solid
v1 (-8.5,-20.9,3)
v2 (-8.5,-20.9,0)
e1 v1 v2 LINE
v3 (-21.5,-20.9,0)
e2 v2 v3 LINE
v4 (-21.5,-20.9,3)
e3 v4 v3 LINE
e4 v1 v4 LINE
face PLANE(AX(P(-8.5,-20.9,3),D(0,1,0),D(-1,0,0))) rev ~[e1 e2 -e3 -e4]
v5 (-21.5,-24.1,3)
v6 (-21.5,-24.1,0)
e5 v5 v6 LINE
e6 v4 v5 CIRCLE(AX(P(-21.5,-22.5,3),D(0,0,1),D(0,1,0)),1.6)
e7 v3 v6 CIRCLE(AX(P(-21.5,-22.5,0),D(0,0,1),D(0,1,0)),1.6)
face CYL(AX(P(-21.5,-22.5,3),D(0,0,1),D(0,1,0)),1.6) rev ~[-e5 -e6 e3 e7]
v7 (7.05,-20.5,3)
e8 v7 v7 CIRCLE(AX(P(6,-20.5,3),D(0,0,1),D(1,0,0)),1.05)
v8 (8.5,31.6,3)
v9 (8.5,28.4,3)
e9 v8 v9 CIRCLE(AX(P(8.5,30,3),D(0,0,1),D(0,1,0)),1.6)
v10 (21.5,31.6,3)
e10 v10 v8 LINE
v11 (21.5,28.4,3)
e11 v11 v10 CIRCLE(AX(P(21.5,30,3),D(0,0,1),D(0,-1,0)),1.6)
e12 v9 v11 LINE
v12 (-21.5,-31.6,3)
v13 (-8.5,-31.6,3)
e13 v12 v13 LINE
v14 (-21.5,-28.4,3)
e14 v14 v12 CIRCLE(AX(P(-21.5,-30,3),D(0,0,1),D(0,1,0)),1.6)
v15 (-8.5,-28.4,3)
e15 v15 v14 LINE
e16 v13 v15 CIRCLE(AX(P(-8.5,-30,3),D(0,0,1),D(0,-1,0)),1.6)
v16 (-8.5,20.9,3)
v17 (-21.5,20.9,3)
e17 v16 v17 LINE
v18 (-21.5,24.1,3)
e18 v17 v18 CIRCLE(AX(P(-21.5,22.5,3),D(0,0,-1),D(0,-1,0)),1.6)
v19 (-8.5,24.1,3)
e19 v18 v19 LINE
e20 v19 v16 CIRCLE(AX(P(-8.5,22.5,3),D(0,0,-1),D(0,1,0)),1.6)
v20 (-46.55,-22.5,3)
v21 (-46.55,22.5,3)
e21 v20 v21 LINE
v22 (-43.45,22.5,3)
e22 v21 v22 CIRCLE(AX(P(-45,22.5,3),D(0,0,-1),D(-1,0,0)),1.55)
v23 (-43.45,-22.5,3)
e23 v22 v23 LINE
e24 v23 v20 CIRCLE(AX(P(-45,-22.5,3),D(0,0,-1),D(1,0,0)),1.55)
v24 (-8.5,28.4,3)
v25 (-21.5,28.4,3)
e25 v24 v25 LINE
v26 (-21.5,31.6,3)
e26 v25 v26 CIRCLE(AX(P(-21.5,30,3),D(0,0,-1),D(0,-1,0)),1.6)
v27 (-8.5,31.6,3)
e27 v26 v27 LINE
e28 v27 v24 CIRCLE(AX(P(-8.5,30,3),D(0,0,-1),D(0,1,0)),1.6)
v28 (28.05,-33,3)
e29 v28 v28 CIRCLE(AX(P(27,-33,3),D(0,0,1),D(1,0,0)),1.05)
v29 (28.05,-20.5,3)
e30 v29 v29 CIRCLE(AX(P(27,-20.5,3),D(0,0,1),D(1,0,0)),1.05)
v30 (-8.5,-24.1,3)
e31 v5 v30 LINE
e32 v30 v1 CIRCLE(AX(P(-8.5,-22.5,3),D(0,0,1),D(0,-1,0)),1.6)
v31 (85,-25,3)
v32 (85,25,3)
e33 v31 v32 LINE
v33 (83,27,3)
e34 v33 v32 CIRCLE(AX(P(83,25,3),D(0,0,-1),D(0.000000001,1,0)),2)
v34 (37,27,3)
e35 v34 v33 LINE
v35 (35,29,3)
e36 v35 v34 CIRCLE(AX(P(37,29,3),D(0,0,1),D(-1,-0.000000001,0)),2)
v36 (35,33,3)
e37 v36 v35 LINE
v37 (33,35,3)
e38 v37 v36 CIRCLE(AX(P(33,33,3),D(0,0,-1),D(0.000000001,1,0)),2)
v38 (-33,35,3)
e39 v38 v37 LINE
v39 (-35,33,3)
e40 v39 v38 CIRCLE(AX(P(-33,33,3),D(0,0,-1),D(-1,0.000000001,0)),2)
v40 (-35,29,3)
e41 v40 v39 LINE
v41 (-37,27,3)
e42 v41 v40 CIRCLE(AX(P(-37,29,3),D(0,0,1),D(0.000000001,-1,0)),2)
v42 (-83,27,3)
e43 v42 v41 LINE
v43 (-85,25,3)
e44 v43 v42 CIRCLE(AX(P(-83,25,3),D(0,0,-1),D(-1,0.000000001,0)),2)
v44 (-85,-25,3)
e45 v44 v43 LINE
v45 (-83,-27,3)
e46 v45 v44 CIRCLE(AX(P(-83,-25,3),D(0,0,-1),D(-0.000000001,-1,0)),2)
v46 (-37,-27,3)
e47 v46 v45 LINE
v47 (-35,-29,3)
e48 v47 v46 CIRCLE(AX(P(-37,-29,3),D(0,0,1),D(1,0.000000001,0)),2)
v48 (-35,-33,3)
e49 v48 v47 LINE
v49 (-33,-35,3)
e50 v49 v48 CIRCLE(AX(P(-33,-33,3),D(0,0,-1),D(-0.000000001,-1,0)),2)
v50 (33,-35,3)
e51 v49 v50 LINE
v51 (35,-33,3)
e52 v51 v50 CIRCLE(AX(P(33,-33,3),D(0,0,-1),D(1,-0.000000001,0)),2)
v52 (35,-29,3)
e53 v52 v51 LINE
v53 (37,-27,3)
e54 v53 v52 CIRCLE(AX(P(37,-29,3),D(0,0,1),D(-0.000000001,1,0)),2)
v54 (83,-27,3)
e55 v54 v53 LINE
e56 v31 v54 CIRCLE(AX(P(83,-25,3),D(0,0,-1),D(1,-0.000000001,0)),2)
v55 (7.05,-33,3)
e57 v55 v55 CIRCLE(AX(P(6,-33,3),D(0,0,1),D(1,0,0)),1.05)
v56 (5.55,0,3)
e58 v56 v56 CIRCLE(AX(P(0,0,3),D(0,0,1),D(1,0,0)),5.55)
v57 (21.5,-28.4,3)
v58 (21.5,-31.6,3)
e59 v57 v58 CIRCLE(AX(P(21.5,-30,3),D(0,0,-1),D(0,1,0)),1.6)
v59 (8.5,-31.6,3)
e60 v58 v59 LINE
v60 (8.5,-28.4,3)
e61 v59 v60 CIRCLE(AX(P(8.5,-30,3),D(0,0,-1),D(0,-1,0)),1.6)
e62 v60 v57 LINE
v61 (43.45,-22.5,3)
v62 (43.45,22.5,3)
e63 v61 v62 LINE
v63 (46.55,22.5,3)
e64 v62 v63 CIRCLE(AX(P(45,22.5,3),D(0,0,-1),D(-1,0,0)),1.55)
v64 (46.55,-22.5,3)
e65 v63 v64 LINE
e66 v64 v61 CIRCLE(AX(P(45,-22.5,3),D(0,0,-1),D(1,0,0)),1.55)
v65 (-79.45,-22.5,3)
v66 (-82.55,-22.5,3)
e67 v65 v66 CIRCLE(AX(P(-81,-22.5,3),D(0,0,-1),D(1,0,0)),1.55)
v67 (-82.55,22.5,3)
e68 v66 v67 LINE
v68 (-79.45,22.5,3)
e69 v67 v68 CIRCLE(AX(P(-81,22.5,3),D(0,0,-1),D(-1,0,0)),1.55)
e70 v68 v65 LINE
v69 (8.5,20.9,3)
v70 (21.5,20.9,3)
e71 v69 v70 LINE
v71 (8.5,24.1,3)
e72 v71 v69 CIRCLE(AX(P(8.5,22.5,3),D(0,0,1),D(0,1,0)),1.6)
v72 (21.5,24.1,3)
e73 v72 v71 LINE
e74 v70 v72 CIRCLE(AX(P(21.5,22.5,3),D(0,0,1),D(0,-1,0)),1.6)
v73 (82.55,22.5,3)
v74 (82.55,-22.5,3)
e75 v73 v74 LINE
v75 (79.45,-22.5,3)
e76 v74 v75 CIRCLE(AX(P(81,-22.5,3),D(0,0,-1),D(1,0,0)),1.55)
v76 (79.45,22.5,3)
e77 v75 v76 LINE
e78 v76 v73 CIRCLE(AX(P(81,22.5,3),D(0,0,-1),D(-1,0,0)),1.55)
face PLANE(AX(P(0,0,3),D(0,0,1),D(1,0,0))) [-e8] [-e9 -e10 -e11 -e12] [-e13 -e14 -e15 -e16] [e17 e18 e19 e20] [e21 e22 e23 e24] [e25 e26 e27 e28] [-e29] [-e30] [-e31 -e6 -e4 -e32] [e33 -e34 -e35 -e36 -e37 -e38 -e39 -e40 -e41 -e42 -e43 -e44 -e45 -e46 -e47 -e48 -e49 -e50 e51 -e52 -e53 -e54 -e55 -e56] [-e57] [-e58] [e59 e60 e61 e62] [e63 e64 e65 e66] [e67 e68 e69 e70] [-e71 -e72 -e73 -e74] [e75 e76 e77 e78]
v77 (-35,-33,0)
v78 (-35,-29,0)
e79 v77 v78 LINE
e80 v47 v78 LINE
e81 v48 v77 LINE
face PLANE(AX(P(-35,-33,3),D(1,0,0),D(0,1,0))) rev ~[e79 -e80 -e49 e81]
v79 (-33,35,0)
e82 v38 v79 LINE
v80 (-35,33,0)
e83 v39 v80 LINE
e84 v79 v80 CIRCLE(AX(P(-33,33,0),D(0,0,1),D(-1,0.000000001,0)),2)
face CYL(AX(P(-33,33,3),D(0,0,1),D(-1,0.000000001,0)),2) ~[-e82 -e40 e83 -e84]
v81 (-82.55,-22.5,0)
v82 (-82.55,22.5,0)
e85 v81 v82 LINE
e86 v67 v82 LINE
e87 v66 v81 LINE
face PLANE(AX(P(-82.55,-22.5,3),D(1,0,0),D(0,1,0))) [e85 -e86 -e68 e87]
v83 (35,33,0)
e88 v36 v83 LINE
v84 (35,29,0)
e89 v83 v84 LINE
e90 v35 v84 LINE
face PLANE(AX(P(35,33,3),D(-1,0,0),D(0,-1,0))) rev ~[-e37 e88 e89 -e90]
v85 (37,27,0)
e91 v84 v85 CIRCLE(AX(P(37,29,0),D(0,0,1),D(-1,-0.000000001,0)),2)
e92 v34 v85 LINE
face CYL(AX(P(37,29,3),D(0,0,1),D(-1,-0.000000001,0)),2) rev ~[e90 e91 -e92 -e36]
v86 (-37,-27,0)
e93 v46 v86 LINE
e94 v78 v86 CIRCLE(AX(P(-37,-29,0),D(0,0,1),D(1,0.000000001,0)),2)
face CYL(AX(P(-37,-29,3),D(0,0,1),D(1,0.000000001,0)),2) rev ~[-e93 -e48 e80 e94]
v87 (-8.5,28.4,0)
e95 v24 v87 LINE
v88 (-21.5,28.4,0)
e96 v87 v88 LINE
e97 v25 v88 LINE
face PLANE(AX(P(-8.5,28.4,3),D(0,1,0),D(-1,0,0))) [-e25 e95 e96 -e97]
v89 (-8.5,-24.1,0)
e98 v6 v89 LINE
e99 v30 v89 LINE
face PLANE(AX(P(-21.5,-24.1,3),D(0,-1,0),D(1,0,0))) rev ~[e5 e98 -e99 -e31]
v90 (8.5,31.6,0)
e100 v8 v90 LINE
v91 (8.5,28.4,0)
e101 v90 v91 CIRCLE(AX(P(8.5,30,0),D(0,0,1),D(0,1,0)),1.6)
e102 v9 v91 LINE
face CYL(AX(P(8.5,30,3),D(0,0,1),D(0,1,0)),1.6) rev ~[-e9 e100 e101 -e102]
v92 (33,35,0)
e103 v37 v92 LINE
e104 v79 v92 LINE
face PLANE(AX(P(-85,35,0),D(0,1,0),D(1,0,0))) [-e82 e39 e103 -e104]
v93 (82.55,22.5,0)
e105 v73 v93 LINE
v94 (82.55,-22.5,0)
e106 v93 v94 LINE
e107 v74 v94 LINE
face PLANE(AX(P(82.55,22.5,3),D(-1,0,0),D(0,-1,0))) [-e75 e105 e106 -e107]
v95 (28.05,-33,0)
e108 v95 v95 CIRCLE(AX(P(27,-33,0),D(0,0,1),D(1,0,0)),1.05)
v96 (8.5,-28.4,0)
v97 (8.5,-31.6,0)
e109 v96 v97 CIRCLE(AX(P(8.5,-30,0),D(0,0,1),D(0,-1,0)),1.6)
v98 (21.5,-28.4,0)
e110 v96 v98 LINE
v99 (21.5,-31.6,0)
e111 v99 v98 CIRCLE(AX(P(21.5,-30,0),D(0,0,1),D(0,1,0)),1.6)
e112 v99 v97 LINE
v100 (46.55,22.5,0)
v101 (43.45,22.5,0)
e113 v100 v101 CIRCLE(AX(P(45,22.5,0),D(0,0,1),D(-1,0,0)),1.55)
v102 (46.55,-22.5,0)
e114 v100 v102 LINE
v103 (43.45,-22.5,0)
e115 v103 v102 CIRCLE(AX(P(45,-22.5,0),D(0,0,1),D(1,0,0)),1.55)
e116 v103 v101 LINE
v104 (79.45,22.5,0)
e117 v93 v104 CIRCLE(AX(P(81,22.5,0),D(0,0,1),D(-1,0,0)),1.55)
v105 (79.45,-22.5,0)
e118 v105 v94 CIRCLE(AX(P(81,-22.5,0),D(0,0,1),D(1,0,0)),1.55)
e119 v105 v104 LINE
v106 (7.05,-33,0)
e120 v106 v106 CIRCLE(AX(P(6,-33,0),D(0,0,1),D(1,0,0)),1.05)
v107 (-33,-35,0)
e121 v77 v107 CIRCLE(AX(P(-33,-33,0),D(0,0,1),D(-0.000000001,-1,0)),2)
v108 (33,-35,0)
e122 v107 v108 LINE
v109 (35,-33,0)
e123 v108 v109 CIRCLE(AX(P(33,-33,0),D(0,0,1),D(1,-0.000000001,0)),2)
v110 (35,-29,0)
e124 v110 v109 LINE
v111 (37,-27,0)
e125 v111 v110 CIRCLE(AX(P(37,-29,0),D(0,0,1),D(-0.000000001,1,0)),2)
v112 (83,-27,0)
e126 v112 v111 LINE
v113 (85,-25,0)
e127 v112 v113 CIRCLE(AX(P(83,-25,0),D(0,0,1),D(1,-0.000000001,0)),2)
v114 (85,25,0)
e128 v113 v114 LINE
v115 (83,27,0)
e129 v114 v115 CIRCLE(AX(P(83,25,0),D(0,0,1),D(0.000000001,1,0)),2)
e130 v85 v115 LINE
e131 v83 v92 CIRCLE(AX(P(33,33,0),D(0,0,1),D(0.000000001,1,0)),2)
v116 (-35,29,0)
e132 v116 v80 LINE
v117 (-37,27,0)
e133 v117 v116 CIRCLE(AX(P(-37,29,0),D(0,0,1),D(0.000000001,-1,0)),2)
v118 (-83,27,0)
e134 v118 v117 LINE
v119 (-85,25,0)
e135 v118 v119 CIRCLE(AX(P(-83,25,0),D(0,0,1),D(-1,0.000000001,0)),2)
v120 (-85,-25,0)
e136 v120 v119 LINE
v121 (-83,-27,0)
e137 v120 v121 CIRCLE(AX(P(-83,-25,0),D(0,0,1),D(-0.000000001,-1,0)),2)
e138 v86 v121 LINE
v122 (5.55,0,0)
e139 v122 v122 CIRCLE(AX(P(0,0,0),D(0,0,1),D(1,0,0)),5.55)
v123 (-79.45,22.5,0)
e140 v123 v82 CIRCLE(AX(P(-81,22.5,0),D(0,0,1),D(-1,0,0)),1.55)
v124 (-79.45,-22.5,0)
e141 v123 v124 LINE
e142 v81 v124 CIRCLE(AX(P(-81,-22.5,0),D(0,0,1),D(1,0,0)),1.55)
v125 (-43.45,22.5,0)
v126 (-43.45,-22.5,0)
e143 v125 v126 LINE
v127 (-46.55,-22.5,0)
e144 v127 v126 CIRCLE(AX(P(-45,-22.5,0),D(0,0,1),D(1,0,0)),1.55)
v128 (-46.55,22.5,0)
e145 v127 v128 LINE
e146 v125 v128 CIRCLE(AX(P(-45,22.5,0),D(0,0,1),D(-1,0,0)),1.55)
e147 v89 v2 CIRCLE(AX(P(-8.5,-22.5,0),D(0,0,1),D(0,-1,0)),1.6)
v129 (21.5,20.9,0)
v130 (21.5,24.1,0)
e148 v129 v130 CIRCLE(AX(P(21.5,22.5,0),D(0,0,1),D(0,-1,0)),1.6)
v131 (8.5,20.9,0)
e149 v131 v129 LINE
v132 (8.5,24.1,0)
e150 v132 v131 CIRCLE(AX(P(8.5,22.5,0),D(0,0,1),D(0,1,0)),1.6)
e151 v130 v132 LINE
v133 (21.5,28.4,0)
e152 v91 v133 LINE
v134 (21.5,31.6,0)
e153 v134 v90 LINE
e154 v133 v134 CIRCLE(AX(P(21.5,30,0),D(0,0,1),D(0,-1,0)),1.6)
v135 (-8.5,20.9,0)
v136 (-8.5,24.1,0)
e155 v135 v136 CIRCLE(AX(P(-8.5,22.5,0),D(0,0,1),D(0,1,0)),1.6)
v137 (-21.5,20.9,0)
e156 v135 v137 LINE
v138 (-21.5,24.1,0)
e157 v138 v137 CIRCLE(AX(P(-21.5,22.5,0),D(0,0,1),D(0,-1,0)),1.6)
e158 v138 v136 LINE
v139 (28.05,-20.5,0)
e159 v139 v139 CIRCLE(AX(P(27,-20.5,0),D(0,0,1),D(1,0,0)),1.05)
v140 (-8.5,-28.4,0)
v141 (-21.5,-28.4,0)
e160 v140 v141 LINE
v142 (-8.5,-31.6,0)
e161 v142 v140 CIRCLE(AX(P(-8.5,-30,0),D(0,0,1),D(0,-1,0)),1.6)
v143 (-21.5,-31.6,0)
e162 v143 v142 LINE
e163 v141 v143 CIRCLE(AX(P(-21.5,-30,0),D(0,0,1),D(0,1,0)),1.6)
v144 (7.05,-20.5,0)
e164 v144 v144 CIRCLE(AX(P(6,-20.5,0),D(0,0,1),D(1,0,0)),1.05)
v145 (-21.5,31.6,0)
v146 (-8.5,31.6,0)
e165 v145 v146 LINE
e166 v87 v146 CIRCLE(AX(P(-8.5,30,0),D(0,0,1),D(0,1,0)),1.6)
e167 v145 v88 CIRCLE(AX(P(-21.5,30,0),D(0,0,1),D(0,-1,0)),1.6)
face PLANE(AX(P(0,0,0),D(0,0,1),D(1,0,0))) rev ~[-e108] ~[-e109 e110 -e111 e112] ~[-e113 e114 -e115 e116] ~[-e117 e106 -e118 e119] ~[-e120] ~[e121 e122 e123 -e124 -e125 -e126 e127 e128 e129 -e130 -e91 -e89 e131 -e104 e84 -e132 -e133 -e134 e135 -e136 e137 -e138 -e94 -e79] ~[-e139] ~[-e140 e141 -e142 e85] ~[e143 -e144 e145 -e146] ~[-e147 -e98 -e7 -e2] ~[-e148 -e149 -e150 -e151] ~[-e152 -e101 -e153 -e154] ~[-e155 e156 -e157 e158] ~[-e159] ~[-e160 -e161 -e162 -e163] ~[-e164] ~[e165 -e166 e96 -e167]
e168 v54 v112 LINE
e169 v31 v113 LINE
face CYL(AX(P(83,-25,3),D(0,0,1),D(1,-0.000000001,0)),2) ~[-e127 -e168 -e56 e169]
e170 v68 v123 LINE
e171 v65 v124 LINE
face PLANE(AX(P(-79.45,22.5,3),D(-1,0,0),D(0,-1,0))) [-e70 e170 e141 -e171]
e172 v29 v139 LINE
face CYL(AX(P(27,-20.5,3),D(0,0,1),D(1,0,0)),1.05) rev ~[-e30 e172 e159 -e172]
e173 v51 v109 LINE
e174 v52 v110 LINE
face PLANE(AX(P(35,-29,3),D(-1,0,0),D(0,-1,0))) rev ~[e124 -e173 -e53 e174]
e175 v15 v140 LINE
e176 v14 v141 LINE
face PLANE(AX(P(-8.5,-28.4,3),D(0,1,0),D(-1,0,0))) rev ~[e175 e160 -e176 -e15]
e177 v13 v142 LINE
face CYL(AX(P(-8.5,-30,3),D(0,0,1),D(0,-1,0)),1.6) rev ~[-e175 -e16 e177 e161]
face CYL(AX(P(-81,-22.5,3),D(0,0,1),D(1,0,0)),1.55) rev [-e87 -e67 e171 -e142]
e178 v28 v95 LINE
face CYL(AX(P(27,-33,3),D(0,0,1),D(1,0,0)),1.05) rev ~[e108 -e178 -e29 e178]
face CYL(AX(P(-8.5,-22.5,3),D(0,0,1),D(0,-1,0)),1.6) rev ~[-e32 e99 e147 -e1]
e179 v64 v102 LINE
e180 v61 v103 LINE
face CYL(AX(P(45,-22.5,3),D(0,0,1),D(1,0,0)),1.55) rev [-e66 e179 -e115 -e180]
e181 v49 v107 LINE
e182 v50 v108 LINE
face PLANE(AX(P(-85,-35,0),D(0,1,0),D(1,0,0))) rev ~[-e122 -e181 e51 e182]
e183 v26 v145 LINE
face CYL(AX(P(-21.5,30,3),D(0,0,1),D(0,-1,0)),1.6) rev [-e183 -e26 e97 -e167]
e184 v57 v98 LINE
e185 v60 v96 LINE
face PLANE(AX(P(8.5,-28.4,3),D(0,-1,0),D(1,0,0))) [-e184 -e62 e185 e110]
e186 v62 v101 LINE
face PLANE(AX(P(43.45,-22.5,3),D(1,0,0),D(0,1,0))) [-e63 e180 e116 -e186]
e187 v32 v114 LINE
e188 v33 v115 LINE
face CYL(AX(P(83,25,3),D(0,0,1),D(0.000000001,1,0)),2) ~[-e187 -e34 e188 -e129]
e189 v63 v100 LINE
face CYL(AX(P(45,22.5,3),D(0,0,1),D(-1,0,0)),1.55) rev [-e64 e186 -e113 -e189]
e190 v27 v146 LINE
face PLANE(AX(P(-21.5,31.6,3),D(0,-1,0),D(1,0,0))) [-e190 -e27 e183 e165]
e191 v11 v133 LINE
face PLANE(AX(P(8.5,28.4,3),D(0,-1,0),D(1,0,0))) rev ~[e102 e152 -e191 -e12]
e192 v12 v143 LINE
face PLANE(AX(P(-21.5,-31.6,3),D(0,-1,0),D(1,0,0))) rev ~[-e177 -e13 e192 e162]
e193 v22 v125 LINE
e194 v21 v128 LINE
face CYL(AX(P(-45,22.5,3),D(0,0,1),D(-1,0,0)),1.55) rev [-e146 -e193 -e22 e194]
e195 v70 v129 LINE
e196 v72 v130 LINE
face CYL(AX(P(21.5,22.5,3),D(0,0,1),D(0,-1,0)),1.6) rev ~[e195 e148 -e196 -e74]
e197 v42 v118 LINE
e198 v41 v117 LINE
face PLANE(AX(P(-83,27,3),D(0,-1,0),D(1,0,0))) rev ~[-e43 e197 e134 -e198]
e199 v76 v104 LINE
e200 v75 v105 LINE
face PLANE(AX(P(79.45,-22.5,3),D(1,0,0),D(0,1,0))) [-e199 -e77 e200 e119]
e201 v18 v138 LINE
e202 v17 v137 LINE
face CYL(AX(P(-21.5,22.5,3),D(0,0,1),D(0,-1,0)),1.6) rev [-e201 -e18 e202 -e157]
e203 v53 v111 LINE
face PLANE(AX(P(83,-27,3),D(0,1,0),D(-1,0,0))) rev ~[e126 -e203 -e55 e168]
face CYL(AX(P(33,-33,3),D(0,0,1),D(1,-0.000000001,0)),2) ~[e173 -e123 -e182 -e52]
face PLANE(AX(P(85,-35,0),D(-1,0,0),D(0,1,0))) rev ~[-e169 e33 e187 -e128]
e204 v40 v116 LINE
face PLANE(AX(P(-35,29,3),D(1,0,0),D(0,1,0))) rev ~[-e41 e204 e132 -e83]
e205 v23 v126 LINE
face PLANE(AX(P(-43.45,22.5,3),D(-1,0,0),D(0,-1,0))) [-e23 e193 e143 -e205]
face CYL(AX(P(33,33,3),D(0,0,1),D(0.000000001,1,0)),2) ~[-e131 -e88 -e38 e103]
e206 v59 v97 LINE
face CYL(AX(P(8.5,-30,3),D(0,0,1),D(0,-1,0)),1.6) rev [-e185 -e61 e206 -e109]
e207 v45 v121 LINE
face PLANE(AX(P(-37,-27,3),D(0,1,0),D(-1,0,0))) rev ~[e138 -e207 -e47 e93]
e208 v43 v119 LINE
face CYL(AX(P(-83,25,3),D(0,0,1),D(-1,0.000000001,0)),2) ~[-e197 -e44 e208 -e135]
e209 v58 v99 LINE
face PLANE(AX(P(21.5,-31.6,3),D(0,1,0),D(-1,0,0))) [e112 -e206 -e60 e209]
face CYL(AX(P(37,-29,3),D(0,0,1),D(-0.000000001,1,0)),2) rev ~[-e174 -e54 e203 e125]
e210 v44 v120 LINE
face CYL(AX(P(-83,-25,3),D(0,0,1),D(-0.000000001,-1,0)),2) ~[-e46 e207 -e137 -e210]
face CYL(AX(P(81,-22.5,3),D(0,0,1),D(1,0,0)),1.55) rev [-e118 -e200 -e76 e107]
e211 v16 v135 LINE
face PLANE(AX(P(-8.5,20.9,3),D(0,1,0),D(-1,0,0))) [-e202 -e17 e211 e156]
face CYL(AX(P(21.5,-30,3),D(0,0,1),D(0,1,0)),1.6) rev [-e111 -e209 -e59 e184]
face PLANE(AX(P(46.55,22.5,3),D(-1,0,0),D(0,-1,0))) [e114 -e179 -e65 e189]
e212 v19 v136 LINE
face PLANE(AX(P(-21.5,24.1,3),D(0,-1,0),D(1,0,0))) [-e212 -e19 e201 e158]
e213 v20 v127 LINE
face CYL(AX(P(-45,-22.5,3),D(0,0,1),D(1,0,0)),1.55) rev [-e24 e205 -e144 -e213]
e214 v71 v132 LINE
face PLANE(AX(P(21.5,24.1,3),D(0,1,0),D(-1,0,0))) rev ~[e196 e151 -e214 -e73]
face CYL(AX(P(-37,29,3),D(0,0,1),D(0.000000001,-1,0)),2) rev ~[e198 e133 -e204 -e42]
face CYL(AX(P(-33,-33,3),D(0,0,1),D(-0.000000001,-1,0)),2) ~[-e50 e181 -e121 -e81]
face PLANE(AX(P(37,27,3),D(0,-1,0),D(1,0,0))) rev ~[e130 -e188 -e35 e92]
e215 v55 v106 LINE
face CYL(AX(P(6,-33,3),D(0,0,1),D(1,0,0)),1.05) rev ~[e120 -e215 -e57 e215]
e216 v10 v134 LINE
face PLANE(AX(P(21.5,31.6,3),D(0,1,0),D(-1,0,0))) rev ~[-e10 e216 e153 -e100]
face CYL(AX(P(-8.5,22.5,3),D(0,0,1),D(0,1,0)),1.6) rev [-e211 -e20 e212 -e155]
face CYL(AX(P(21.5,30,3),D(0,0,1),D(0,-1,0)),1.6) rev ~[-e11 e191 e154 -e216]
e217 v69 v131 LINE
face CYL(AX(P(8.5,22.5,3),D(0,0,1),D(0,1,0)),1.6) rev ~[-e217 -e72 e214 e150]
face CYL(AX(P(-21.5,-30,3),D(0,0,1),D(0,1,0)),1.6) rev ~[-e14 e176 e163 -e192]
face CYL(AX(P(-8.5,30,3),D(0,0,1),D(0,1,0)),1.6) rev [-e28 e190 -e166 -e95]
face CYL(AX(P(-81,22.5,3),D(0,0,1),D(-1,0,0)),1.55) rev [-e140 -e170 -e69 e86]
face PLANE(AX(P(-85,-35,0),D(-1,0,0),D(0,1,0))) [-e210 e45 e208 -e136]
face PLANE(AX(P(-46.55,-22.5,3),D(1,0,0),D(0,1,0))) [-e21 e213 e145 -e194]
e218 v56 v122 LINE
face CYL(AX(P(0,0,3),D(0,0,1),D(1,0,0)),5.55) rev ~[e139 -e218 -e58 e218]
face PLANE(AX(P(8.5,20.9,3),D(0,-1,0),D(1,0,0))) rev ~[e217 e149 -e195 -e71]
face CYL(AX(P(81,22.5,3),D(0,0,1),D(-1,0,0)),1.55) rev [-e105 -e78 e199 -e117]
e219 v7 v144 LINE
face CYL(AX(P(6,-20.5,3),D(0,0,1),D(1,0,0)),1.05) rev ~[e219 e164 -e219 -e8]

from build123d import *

# Parameters (mm, degrees)
SKETCH_1_W          = 170
SKETCH_1_H          = 70
EXTRUDE_1_DEPTH     = 3
SKETCH_2_R          = 5.55
SKETCH_2_R_2        = 1.05
CUT_EXTRUDE_1_DEPTH = 92.972822073
CUT_EXTRUDE_2_DEPTH = 92.972822073


with BuildPart() as part:
    # 草圖1 → 填料-伸長1 (new body)
    with BuildSketch(Plane.XY):
        Rectangle(SKETCH_1_W, SKETCH_1_H)
    extrude(amount=EXTRUDE_1_DEPTH)

    # 草圖2 → 除料-伸長1 (cut, through all)
    with BuildSketch(Plane.XY.offset(3)):
        Circle(SKETCH_2_R)
        with Locations((27, -20.5)):
            Circle(SKETCH_2_R_2)
        with Locations((6, -20.5)):
            Circle(SKETCH_2_R_2)
        with Locations((6, -33)):
            Circle(SKETCH_2_R_2)
        with Locations((27, -33)):
            Circle(SKETCH_2_R_2)
        with BuildLine():
            Line((43.45, -22.5), (43.45, 22.5))
            ThreePointArc((43.45, 22.5), (45, 24.05), (46.55, 22.5))
            Line((46.55, 22.5), (46.55, -22.5))
            ThreePointArc((46.55, -22.5), (45, -24.05), (43.45, -22.5))
        make_face()
        with BuildLine():
            Line((-46.55, -22.5), (-46.55, 22.5))
            ThreePointArc((-46.55, 22.5), (-45, 24.05), (-43.45, 22.5))
            Line((-43.45, 22.5), (-43.45, -22.5))
            ThreePointArc((-43.45, -22.5), (-45, -24.05), (-46.55, -22.5))
        make_face()
        with BuildLine():
            Line((-82.55, -22.5), (-82.55, 22.5))
            ThreePointArc((-82.55, 22.5), (-81, 24.05), (-79.45, 22.5))
            Line((-79.45, 22.5), (-79.45, -22.5))
            ThreePointArc((-79.45, -22.5), (-81, -24.05), (-82.55, -22.5))
        make_face()
        with BuildLine():
            Line((79.45, -22.5), (79.45, 22.5))
            ThreePointArc((79.45, 22.5), (81, 24.05), (82.55, 22.5))
            Line((82.55, 22.5), (82.55, -22.5))
            ThreePointArc((82.55, -22.5), (81, -24.05), (79.45, -22.5))
        make_face()
        with BuildLine():
            Line((21.5, -31.6), (8.5, -31.6))
            ThreePointArc((8.5, -31.6), (6.9, -30), (8.5, -28.4))
            Line((8.5, -28.4), (21.5, -28.4))
            ThreePointArc((21.5, -28.4), (23.1, -30), (21.5, -31.6))
        make_face()
        with BuildLine():
            Line((-21.5, -31.6), (-8.5, -31.6))
            ThreePointArc((-8.5, -31.6), (-6.9, -30), (-8.5, -28.4))
            Line((-8.5, -28.4), (-21.5, -28.4))
            ThreePointArc((-21.5, -28.4), (-23.1, -30), (-21.5, -31.6))
        make_face()
        with BuildLine():
            Line((21.5, 31.6), (8.5, 31.6))
            ThreePointArc((8.5, 31.6), (6.9, 30), (8.5, 28.4))
            Line((8.5, 28.4), (21.5, 28.4))
            ThreePointArc((21.5, 28.4), (23.1, 30), (21.5, 31.6))
        make_face()
        with BuildLine():
            Line((-21.5, 31.6), (-8.5, 31.6))
            ThreePointArc((-8.5, 31.6), (-6.9, 30), (-8.5, 28.4))
            Line((-8.5, 28.4), (-21.5, 28.4))
            ThreePointArc((-21.5, 28.4), (-23.1, 30), (-21.5, 31.6))
        make_face()
        with BuildLine():
            Line((21.5, 24.1), (8.5, 24.1))
            ThreePointArc((8.5, 24.1), (6.9, 22.5), (8.5, 20.9))
            Line((8.5, 20.9), (21.5, 20.9))
            ThreePointArc((21.5, 20.9), (23.1, 22.5), (21.5, 24.1))
        make_face()
        with BuildLine():
            Line((-21.5, 24.1), (-8.5, 24.1))
            ThreePointArc((-8.5, 24.1), (-6.9, 22.5), (-8.5, 20.9))
            Line((-8.5, 20.9), (-21.5, 20.9))
            ThreePointArc((-21.5, 20.9), (-23.1, 22.5), (-21.5, 24.1))
        make_face()
        with BuildLine():
            Line((-21.5, -24.1), (-8.5, -24.1))
            ThreePointArc((-8.5, -24.1), (-6.9, -22.5), (-8.5, -20.9))
            Line((-8.5, -20.9), (-21.5, -20.9))
            ThreePointArc((-21.5, -20.9), (-23.1, -22.5), (-21.5, -24.1))
        make_face()
    extrude(amount=-CUT_EXTRUDE_1_DEPTH, mode=Mode.SUBTRACT)

    # 草圖4 → 除料-伸長2 (cut, through all)
    with BuildSketch(Plane.XY.offset(3)):
        with BuildLine():
            Line((85, 35), (35, 35))
            Line((35, 35), (33, 35))
            ThreePointArc((33, 35), (34.414213562, 34.414213562), (35, 33))
            Line((35, 33), (35, 29))
            ThreePointArc((35, 29), (35.585786438, 27.585786438), (37, 27))
            Line((37, 27), (83, 27))
            ThreePointArc((83, 27), (84.414213562, 26.414213562), (85, 25))
            Line((85, 25), (85, 27))
            Line((85, 27), (85, 35))
        make_face()
        with BuildLine():
            Line((85, -27), (85, -25))
            ThreePointArc((85, -25), (84.414213562, -26.414213562), (83, -27))
            Line((83, -27), (37, -27))
            ThreePointArc((37, -27), (35.585786438, -27.585786438), (35, -29))
            Line((35, -29), (35, -33))
            ThreePointArc((35, -33), (34.414213562, -34.414213562), (33, -35))
            Line((33, -35), (35, -35))
            Line((35, -35), (85, -35))
            Line((85, -35), (85, -27))
        make_face()
        with BuildLine():
            Line((-85, -35), (-35, -35))
            Line((-35, -35), (-33, -35))
            ThreePointArc((-33, -35), (-34.414213562, -34.414213562), (-35, -33))
            Line((-35, -33), (-35, -29))
            ThreePointArc((-35, -29), (-35.585786438, -27.585786438), (-37, -27))
            Line((-37, -27), (-83, -27))
            ThreePointArc((-83, -27), (-84.414213562, -26.414213562), (-85, -25))
            Line((-85, -25), (-85, -27))
            Line((-85, -27), (-85, -35))
        make_face()
        with BuildLine():
            Line((-85, 27), (-85, 25))
            ThreePointArc((-85, 25), (-84.414213562, 26.414213562), (-83, 27))
            Line((-83, 27), (-37, 27))
            ThreePointArc((-37, 27), (-35.585786438, 27.585786438), (-35, 29))
            Line((-35, 29), (-35, 33))
            ThreePointArc((-35, 33), (-34.414213562, 34.414213562), (-33, 35))
            Line((-33, 35), (-35, 35))
            Line((-35, 35), (-85, 35))
            Line((-85, 35), (-85, 27))
        make_face()
    extrude(amount=-CUT_EXTRUDE_2_DEPTH, mode=Mode.SUBTRACT)


solid = part.part
